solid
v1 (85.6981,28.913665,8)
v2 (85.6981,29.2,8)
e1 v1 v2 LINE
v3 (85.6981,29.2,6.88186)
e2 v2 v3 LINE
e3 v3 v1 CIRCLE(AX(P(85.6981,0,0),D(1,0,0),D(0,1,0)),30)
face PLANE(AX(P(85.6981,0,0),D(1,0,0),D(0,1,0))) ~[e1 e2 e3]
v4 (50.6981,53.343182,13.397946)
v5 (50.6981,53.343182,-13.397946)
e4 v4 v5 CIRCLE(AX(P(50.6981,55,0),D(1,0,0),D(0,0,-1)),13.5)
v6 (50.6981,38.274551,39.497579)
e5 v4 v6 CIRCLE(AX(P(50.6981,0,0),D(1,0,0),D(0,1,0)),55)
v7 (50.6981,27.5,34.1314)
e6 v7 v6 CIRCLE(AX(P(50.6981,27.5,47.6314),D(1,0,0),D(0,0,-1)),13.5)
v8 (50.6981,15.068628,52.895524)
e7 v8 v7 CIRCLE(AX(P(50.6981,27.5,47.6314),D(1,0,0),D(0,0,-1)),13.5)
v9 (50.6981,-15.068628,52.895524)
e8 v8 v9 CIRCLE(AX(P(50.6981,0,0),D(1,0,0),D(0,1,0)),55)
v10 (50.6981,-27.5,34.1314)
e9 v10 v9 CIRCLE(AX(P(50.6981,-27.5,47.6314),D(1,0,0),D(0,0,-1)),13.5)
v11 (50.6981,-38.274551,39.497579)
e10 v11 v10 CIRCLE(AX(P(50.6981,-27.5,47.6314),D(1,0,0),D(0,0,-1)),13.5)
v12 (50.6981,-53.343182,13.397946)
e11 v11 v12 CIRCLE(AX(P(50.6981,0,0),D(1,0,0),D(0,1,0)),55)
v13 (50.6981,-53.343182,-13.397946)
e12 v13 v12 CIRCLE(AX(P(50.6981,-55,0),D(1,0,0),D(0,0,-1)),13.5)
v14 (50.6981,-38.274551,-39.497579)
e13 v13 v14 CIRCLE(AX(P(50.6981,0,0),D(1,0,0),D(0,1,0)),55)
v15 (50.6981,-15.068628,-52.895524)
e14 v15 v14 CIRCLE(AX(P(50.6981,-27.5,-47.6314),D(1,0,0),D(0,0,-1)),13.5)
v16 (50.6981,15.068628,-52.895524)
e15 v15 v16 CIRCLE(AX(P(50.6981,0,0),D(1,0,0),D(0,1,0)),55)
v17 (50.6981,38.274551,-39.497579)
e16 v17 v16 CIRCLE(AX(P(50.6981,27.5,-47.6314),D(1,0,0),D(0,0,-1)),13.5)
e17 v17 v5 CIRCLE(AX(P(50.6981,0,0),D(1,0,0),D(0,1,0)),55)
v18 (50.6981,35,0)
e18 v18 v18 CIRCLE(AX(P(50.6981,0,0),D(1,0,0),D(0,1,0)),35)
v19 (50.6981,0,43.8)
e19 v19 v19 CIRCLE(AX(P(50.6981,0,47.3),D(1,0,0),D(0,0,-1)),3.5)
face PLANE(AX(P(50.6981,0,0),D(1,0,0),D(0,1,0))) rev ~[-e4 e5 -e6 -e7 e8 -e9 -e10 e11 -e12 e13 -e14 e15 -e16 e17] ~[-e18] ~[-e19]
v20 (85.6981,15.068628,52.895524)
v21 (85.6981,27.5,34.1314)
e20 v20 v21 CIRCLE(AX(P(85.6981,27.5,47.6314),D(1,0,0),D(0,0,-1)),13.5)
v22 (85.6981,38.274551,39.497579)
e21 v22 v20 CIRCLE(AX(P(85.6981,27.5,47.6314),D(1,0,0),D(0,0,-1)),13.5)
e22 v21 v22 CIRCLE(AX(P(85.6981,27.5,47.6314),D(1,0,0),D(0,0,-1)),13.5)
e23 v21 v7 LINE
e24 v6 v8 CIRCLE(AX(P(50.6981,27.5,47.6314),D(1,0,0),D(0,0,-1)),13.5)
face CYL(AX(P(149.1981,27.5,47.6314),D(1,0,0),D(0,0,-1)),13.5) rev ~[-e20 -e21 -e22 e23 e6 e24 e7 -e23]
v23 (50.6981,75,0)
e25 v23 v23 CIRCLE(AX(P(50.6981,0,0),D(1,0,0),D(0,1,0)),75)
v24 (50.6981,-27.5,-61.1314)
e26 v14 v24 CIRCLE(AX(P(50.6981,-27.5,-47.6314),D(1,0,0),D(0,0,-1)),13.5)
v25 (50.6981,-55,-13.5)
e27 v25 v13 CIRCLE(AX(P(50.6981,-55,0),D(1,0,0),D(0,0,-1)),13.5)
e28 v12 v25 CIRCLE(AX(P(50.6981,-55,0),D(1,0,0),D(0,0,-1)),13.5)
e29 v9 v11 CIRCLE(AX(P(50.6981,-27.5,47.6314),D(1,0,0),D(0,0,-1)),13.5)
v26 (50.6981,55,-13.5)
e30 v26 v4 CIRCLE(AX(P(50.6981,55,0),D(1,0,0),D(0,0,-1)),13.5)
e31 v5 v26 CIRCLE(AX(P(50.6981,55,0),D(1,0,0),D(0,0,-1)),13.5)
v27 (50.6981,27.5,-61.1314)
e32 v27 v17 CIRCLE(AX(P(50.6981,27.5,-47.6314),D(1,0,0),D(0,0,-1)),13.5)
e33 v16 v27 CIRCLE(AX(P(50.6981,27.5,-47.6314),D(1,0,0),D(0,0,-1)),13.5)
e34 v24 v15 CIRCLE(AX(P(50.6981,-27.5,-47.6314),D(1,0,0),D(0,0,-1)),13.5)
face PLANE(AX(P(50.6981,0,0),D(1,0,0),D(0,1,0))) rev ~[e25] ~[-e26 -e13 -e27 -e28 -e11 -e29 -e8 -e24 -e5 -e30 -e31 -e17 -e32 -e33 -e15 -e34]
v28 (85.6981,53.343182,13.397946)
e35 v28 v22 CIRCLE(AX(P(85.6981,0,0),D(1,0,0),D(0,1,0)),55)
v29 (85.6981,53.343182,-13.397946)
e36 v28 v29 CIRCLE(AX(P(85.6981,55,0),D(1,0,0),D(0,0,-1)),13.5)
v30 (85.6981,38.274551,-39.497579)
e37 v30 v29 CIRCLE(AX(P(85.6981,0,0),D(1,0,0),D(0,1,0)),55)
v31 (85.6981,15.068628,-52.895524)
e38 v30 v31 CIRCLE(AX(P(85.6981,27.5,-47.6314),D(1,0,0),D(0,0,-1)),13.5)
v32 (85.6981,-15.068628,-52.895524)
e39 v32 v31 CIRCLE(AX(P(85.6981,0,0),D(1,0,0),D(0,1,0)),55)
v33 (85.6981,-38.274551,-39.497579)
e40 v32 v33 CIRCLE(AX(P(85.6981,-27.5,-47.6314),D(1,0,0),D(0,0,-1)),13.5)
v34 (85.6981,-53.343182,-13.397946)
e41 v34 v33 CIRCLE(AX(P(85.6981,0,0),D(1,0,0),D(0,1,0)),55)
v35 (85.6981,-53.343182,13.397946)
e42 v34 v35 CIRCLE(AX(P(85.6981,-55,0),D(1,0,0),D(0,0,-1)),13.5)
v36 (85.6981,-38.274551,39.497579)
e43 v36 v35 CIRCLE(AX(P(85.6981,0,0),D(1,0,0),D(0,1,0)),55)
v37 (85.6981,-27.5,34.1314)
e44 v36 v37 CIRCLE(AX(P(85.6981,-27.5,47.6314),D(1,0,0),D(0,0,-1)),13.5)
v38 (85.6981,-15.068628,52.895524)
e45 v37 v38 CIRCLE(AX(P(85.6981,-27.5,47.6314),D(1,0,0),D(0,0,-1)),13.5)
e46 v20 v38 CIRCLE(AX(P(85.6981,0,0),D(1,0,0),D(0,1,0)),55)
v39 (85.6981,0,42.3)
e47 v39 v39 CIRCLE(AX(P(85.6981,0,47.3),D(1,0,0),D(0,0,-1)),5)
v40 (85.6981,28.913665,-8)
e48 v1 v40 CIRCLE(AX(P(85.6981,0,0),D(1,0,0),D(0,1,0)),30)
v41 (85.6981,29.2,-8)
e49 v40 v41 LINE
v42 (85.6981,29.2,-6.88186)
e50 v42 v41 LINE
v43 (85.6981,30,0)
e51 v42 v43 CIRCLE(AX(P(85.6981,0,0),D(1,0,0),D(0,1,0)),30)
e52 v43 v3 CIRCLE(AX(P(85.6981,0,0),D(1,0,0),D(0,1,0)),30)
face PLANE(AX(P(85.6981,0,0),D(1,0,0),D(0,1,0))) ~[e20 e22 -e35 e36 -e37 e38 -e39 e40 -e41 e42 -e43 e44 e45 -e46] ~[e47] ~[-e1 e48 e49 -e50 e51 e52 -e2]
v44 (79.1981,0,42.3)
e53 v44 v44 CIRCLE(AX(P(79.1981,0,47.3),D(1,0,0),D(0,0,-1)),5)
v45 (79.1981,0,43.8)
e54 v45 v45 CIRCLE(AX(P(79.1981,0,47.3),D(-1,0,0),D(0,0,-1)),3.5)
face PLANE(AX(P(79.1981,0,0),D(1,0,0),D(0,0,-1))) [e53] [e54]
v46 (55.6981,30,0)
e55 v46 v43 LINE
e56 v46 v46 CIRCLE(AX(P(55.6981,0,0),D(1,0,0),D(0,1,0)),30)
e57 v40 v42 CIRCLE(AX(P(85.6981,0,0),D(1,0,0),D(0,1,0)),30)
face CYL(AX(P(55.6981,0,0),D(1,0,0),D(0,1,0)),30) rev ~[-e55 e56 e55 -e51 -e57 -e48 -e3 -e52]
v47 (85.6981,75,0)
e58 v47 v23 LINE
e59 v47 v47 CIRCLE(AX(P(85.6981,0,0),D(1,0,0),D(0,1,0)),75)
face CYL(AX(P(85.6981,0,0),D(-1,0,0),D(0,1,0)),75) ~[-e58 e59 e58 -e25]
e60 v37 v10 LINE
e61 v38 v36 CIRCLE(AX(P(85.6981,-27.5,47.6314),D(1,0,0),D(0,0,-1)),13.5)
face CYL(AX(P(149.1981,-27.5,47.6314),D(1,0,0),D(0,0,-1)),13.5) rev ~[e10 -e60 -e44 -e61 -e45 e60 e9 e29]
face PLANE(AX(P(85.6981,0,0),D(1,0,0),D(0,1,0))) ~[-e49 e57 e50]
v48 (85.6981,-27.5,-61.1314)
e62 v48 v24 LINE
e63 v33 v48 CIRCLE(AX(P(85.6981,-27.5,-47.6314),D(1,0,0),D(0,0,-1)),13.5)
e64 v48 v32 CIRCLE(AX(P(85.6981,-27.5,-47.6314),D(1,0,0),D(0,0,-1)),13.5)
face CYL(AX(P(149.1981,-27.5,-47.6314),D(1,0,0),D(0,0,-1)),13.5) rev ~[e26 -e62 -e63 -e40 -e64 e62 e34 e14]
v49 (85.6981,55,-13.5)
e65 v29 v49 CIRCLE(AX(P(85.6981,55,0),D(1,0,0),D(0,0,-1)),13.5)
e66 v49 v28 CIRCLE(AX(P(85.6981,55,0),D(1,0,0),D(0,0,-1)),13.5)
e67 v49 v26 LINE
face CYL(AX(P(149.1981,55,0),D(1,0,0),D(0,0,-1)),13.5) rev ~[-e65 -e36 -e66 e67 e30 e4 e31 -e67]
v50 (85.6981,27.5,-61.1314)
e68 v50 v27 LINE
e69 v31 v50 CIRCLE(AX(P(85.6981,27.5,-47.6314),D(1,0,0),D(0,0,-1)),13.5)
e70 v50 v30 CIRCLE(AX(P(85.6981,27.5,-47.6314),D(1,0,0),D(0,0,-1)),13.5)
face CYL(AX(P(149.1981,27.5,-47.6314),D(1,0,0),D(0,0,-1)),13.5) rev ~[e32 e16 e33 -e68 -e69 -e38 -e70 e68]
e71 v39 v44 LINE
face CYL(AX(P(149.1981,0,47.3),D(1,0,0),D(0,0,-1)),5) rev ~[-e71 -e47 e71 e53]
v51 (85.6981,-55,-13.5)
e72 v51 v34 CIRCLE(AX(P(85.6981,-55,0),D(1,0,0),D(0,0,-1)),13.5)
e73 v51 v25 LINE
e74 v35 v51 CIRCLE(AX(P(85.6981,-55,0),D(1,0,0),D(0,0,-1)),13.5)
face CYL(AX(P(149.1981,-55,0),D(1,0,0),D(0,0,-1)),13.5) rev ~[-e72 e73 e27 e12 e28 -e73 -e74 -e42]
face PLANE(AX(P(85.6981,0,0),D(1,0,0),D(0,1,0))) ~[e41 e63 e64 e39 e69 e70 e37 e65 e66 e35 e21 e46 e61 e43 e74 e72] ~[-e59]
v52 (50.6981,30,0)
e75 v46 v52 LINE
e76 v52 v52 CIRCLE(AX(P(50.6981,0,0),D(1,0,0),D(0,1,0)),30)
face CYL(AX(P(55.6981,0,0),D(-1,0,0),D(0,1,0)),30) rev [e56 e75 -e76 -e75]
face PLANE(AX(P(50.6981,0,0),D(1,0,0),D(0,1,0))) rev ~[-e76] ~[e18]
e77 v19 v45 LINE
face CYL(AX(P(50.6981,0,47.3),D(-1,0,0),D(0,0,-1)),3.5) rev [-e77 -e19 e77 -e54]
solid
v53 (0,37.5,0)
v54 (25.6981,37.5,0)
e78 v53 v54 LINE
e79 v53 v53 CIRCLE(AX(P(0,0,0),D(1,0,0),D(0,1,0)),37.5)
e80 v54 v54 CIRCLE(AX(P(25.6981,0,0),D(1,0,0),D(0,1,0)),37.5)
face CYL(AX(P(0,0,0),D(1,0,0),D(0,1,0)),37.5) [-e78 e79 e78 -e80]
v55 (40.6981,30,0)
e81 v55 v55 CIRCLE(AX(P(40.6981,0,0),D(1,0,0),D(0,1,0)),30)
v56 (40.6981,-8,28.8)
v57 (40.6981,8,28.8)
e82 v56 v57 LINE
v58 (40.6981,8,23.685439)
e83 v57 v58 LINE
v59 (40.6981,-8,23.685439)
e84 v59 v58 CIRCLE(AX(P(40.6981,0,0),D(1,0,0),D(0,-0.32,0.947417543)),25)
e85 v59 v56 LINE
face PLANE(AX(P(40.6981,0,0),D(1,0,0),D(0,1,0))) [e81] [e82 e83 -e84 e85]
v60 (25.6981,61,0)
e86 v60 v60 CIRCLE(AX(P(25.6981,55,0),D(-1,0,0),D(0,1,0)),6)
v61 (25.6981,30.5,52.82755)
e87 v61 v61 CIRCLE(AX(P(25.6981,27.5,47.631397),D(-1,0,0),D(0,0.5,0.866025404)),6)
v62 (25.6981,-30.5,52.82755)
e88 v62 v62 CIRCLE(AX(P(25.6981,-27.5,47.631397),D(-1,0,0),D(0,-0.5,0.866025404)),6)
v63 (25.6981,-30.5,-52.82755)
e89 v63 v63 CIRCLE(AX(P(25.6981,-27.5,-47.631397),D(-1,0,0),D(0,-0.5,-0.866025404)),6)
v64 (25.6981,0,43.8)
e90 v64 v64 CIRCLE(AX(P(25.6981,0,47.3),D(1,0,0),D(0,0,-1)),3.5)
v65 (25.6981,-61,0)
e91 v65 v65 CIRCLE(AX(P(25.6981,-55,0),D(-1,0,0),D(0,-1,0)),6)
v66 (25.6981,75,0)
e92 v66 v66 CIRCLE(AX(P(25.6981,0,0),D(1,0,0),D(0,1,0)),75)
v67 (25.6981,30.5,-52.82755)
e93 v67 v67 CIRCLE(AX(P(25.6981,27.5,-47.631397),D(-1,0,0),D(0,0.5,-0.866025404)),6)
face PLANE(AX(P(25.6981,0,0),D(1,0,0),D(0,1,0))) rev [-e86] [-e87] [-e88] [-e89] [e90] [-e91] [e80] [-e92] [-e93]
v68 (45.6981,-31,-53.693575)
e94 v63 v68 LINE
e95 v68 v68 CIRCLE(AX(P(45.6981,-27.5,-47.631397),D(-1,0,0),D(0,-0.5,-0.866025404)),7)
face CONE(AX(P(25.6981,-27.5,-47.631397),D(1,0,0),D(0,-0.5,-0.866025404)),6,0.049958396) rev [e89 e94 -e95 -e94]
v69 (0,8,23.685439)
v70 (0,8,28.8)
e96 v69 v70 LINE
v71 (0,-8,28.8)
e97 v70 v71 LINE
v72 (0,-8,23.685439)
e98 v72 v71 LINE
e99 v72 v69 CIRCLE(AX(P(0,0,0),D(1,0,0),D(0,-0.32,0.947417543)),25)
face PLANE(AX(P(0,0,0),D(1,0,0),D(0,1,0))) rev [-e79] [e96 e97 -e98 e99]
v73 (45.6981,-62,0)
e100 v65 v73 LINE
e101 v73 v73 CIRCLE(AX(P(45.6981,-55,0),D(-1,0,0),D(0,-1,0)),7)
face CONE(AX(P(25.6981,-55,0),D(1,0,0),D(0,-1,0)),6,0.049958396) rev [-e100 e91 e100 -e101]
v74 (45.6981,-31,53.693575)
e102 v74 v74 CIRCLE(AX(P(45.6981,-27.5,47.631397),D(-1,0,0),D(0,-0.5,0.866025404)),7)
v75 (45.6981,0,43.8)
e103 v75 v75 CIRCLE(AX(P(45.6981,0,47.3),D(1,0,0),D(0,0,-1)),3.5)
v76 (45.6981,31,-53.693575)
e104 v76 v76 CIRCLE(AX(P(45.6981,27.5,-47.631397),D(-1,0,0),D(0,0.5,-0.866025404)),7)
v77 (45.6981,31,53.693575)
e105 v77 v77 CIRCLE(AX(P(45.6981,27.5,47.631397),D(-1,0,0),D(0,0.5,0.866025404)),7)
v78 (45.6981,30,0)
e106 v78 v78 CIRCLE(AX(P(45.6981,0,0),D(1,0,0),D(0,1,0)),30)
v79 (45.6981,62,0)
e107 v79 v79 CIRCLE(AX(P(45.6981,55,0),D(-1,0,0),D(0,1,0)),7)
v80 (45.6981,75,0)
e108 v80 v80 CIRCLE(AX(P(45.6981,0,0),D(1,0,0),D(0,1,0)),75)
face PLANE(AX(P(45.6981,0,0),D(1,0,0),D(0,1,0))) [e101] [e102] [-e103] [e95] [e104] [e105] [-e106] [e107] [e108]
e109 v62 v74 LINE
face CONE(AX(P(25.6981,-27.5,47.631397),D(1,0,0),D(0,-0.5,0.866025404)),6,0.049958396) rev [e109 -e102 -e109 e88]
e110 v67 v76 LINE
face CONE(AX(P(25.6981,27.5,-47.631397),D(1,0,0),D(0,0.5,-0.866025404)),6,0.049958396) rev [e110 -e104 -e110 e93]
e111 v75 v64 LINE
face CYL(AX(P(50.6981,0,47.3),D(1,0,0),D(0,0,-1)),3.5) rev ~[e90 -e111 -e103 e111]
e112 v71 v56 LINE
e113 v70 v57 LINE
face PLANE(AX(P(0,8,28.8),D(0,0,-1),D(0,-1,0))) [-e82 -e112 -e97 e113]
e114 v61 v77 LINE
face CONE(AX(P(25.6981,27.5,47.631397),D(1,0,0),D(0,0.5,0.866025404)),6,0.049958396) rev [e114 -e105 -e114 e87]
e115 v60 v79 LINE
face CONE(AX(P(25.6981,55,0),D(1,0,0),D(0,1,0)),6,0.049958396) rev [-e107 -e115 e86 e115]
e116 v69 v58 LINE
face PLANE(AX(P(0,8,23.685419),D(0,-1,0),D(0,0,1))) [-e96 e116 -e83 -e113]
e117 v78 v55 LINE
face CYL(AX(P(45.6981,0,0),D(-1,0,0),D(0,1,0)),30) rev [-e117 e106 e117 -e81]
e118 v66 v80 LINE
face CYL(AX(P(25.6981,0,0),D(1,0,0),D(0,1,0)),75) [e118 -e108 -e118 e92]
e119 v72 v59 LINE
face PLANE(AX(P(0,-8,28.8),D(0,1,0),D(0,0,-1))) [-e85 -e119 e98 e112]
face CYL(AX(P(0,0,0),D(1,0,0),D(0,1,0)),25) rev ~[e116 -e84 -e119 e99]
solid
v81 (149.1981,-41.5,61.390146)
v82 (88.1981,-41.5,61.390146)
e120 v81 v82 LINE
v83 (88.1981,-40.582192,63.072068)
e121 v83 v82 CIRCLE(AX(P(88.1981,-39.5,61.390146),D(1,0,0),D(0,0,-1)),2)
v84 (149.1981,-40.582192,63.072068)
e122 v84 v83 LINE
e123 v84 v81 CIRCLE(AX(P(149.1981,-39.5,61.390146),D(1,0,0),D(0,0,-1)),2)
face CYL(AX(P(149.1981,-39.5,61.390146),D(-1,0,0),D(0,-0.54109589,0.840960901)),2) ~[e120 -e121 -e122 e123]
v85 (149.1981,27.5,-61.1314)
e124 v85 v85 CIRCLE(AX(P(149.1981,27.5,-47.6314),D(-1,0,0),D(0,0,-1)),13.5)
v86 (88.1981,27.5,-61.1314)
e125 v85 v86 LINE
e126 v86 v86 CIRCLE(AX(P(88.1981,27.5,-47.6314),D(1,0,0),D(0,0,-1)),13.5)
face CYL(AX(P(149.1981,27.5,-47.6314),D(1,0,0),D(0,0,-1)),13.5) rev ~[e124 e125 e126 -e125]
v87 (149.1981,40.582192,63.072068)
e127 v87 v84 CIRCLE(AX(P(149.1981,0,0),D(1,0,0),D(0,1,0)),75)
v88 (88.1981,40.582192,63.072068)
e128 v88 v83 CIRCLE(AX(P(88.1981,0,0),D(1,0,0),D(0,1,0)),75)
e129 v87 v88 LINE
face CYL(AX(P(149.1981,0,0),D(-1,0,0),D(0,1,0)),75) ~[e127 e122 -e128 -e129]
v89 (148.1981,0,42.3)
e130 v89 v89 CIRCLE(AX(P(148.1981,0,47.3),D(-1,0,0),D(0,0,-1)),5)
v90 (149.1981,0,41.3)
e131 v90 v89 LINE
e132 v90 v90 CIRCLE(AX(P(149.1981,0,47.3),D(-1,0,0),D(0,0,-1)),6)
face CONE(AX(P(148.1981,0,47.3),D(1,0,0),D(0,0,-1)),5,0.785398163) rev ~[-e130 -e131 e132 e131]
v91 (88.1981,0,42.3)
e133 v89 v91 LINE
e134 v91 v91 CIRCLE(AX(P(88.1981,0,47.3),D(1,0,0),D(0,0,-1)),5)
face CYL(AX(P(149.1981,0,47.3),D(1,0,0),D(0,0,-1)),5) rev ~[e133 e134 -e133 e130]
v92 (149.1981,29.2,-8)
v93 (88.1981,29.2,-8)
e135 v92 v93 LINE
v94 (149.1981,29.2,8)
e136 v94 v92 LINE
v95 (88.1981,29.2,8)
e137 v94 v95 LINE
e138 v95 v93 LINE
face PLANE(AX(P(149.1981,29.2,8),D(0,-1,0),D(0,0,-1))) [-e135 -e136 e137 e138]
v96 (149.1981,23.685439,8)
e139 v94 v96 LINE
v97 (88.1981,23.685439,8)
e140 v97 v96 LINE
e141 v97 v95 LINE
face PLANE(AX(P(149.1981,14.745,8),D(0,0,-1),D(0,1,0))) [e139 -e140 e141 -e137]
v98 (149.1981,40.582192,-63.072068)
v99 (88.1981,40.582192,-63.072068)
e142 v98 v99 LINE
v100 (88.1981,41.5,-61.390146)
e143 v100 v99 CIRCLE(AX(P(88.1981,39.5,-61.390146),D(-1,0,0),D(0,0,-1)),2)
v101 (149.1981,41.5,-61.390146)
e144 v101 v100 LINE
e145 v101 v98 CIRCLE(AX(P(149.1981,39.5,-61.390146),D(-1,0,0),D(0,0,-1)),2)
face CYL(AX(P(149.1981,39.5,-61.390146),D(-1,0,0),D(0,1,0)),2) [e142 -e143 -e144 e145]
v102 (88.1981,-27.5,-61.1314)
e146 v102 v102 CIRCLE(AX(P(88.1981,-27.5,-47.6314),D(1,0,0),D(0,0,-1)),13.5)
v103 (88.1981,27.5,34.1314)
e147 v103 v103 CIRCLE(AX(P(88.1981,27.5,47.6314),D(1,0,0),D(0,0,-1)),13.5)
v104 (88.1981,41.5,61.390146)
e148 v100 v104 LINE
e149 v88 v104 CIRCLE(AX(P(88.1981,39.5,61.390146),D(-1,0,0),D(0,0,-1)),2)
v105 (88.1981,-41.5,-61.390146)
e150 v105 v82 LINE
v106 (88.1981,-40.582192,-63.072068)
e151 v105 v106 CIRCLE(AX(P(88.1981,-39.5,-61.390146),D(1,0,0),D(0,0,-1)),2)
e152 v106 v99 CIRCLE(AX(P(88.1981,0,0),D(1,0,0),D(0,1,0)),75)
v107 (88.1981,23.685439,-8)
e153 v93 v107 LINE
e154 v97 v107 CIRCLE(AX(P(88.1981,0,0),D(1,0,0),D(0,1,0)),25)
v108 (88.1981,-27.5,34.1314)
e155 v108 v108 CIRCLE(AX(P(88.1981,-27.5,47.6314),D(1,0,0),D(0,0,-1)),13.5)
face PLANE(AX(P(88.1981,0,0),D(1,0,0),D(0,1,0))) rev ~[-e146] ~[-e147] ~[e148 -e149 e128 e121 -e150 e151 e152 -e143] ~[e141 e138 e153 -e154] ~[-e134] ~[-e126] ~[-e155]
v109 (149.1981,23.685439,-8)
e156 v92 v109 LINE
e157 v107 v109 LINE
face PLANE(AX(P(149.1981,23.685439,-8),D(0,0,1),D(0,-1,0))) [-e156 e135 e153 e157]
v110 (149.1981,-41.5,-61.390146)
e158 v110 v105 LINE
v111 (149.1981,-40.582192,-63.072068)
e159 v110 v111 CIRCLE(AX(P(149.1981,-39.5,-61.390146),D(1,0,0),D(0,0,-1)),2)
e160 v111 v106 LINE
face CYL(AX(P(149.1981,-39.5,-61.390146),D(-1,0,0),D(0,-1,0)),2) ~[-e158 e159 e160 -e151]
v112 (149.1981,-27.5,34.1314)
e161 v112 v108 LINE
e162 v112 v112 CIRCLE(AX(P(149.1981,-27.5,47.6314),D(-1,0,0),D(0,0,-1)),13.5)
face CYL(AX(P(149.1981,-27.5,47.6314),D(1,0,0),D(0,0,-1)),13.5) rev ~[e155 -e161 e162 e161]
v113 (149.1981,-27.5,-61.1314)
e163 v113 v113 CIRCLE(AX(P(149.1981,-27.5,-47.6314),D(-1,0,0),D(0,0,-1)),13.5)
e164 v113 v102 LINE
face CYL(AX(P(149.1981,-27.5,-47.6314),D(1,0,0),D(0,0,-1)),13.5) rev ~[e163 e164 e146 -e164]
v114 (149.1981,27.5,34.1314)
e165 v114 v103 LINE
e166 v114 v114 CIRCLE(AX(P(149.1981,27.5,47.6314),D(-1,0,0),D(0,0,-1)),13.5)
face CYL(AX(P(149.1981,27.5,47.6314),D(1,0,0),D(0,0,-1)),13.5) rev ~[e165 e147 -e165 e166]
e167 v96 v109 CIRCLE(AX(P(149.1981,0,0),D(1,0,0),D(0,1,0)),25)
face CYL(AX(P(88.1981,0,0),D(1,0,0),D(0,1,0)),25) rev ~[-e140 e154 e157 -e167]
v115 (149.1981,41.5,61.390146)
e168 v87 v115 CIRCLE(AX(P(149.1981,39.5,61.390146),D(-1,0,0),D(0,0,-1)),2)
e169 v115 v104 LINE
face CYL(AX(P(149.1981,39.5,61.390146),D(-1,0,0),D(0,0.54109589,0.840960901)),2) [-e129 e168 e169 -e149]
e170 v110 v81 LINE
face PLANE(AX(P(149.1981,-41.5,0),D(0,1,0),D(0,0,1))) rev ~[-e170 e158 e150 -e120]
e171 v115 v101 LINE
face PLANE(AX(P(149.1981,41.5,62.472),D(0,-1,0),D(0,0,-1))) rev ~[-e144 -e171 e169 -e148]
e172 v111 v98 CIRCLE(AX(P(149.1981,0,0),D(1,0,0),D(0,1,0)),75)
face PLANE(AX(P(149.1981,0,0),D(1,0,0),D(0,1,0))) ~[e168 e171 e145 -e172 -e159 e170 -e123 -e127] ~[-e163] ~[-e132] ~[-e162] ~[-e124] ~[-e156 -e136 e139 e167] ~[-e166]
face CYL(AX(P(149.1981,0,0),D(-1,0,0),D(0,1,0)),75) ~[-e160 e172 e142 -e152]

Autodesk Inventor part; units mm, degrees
ref_plane "YZ Plane" through (0, 0, 0) normal (1, 0, 0) x (0, 1, 0)
ref_plane "XZ Plane" through (0, 0, 0) normal (0, 1, 0) x (-1, 0, 0)
ref_plane "XY Plane" through (0, 0, 0) normal (0, 0, 1) x (1, 0, 0)
sketch "Эскиз1" plane through (0, 0, 0) normal (0, 0, 1) x (1, 0, 0)
  line L0 (0, 25) -> (40.6981, 25)
  line L1 (0, 0) -> (36.5301, 0)
  line L2 (0, 25) -> (0, 37.5)
  line L3 (0, 37.5) -> (25.6981, 37.5)
  line L4 (25.6981, 37.5) -> (25.6981, 75)
  line L5 (25.6981, 75) -> (38.5952, 75)
  line L6 (38.5952, 75) -> (45.6981, 75)
  line L7 (45.6981, 75) -> (45.6981, 30)
  line L8 (45.6981, 30) -> (40.6981, 30)
  line L9 (40.6981, 30) -> (40.6981, 25)
  point P0 (25.6981, 56.25)
  dimension "d1" = 50
  dimension "d2" = 75
  dimension "d3" = 5
  dimension "d4" = 5
  dimension "d5" = 20
  dimension "d6" = 150
revolve "Вращение1" add sketch "Эскиз1" angle 360 about axis through (0, 0, 0) along (1, 0, 0)
ref_plane "РабПлоскость1" through (50.6981, 0, 0) normal (1, 0, 0) x (0, 0, -1)
sketch "Эскиз2" plane through (0, 0, 0) normal (0, 0, 1) x (1, 0, 0)
  line L0 (55.6981, 30) -> (85.6981, 30)
  line L1 (85.6981, 30) -> (85.6981, 75)
  line L2 (85.6981, 75) -> (50.6981, 75)
  line L3 (50.6981, 75) -> (50.6981, 35)
  line L4 (0, 0) -> (146.6296, 0)
  line L5 (50.6981, 105) -> (50.6981, -105) projected
  line L6 (50.6981, 55) -> (85.6981, 55)
  line L7 (50.6981, 35) -> (50.6981, 30)
  line L8 (55.6981, 30) -> (50.6981, 30)
  point P0 (50.6981, 0)
  dimension "d10" = 60
  dimension "d11" = 150
  dimension "d14" = 35
revolve "Вращение2" add sketch "Эскиз2" angle 360 about axis through (0, 0, 0) along (1, 0, 0)
ref_plane "РабПлоскость2" through (88.1981, 0, 0) normal (1, 0, 0) x (0, 0, -1)
sketch "Эскиз3" plane through (0, 0, 0) normal (0, 0, 1) x (1, 0, 0)
  line L0 (88.1981, 105) -> (88.1981, -105) projected
  line L1 (88.1981, 25) -> (149.1981, 25)
  line L2 (149.1981, 25) -> (149.1981, 75)
  line L3 (149.1981, 75) -> (88.1981, 75)
  line L4 (88.1981, 25) -> (88.1981, 75)
  line L5 (88.1981, 0) -> (129.5477, 0)
  point P0 (0, 0)
  dimension "d17" = 50
  dimension "d18" = 150
  dimension "d19" = 61
revolve "Вращение3" add sketch "Эскиз3" angle 360 about axis through (88.1981, 0, 0) along (1, 0, 0)
sketch "Эскиз4" plane through (149.1981, 0, 0) normal (1, 0, 0) x (0, 0, -1)
  circle A0 centre (0, 0) radius 55
  circle A1 centre (0, 0) radius 75 projected
  circle A2 centre (0, 55) radius 13.5
  circle A3 centre (47.6314, 27.5) radius 13.5
  circle A4 centre (0, 0) radius 55
  circle A5 centre (47.6314, -27.5) radius 13.5
  circle A6 centre (0, 0) radius 55
  circle A7 centre (0, -55) radius 13.5
  circle A8 centre (0, 0) radius 55
  circle A9 centre (-47.6314, -27.5) radius 13.5
  circle A10 centre (0, 0) radius 55
  circle A11 centre (-47.6314, 27.5) radius 13.5
  circle A12 centre (0, 0) radius 55
  dimension "d21" = 110
  dimension "d23" = 27
  dimension "d24" = 55
  dimension "d27" = 360
extrude "Выдавливание1" cut sketch "Эскиз4" against normal up to surface (98.5 mm away) contours A3 A0 | A0 A3 | A5 A0 | A0 A5 | A2 A0 | A0 A2 | A7 A0 | A0 A7 | A11 A0 | A0 A11 | A9 A0 | A0 A9
sketch "Эскиз6" plane through (0, 0, 0) normal (0, 0, 1) x (1, 0, 0)
  line L0 (85.6981, 68.5) -> (85.6981, 41.5) projected
  line L1 (50.6981, 41.5) -> (50.6981, 68.5) projected
  line L2 (85.6981, 68.5) -> (50.6981, 68.5) projected
  line L3 (85.6981, 41.5) -> (50.6981, 41.5) projected
  line L4 (50.6981, 41.5) -> (50.6981, 68.5) projected
  line L5 (50.6981, 55) -> (18.7693, 55)
  line L6 (25.6981, -75) -> (25.6981, 75) projected
  line L7 (25.6981, 55) -> (25.6981, 61)
  line L8 (25.6981, 61) -> (45.6981, 62)
  line L9 (45.6981, -75) -> (45.6981, 75) projected
  line L10 (45.6981, 55) -> (45.6981, 62)
  point P0 (0, 0)
  dimension "d38" = 6
  dimension "d39" = 7
  dimension "d44" = 27
revolve "Вращение4" cut sketch "Эскиз6" angle 360 about axis through (50.6981, 55, 0) along (-1, 0, 0) contours L5 L6 L8 L9
sketch "Эскиз7" plane through (25.6981, 0, 0) normal (-1, 0, 0) x (0, 0, 1)
  circle A0 centre (0, 55) radius 7 projected
  circle A1 centre (0, 0) radius 55
pattern_circular "Круговой массив1" count 6 over 360 about axis through (20.349, 0, 0) along (1, 0, 0) of "Вращение4"
sketch "Эскиз8" plane through (149.1981, 0, 0) normal (1, 0, 0) x (0, 0, -1)
  circle A0 centre (0, 0) radius 75 projected
  line L0 (-62.472, 41.5) -> (62.472, 41.5)
  line L1 (62.472, 41.5) -> (62.472, -41.5)
  line L2 (62.472, -41.5) -> (-62.472, -41.5)
  line L3 (-62.472, -41.5) -> (-62.472, 41.5)
  circle A1 centre (0, 55) radius 13.5 projected
  circle A2 centre (0, -55) radius 13.5 projected
  point P0 (0, -41.5)
  point P1 (0, 41.5)
  point P2 (62.472, 41.5)
extrude "Выдавливание3" cut sketch "Эскиз8" against normal up to surface (61 mm away) contours L0 A0 | A0 L2
fillet "Сопряжение1" radius 2 4 edges at (118.6981, 41.5, 62.472) (118.6981, 41.5, -62.472) (118.6981, -41.5, 62.472) (118.6981, -41.5, -62.472)
sketch "Эскиз9" plane through (149.1981, 0, 0) normal (1, 0, 0) x (0, 0, -1)
  circle A0 centre (0, 0) radius 25 projected
  circle A1 centre (0, 0) radius 25 projected
  circle A2 centre (0, 0) radius 47.3
  circle A3 centre (-47.3, 0) radius 5
  dimension "d48" = 94.6
  dimension "d49" = 10
extrude "Выдавливание4" cut sketch "Эскиз9" against normal blind 70 contours A3 A2 | A2 A3 picked at (-45.6137, 0) picked at (-48.9341, -0.2076)
thread "Резьба1" size "M10x1.5" class "6H" standard "ISO Metric profile" length 18
chamfer "Фаска2" distance 1 angle 45 1 edges at (149.1981, 0, 52.3)
sketch "Эскиз10" plane through (149.1981, 0, 0) normal (1, 0, 0) x (0, 0, -1)
  circle A0 centre (0, 0) radius 25 projected
  line L0 (-8, 29.2) -> (8, 29.2)
  line L1 (8, 29.2) -> (8, 14.745)
  line L2 (8, 14.745) -> (-8, 14.745)
  line L3 (-8, 14.745) -> (-8, 29.2)
  circle A1 centre (0, 0) radius 25 projected
  line L4 (0, 25) -> (-8, 25) construction
  dimension "d63" = 16
  dimension "d64" = 8
  dimension "d65" = 4.2
extrude "Выдавливание5" cut sketch "Эскиз10" against normal up to surface (63.5 mm away) contours L1 L2 L3 A0 | A0 L3 L0 L1 picked at (0.903, 18.1143)
sketch "Эскиз11" plane through (50.6981, 0, 0) normal (1, 0, 0) x (0, 0, -1)
  circle A0 centre (-47.3, 0) radius 6 projected
  circle A1 centre (-47.3, 0) radius 5 projected
  circle A2 centre (-47.3, 0) radius 5 projected
  circle A3 centre (-47.3, 0) radius 5 projected
  circle A4 centre (-47.3, 0) radius 3.5
  point P0 (0, 0)
  dimension "d68" = 7
extrude "Выдавливание6" cut sketch "Эскиз11" along normal blind 139.25 and the other way blind 69.625 contours A4
sketch "Эскиз12" plane through (0, 0, 0) normal (-1, 0, 0) x (0, 0, 1)
  circle A0 centre (0, 0) radius 25 projected
  arc A1 (-8, 23.6854) -> (8, 23.6854) centre (0, 0) ccw projected
  line L0 (20.316, 8) -> (28.8, 8)
  line L1 (28.8, 8) -> (28.8, -8)
  line L2 (28.8, -8) -> (20.316, -8)
  line L3 (20.316, -8) -> (20.316, 8)
  dimension "d73" = 28.8
  dimension "d74" = 16
  dimension "d75" = 8
extrude "Выдавливание7" cut sketch "Эскиз12" against normal blind 49 contours L0 L1 L2 A0 | A0 L2 L3 L0 picked at (21.8773, 0)
equation "\"d2\" = 1.5 * d1"
equation "\"d64\" = 0.5 * d63"
equation "\"d75\" = 0.5 * d74"
properties part number "Муфта_Корпус" material "Сталь, углеродистая"
